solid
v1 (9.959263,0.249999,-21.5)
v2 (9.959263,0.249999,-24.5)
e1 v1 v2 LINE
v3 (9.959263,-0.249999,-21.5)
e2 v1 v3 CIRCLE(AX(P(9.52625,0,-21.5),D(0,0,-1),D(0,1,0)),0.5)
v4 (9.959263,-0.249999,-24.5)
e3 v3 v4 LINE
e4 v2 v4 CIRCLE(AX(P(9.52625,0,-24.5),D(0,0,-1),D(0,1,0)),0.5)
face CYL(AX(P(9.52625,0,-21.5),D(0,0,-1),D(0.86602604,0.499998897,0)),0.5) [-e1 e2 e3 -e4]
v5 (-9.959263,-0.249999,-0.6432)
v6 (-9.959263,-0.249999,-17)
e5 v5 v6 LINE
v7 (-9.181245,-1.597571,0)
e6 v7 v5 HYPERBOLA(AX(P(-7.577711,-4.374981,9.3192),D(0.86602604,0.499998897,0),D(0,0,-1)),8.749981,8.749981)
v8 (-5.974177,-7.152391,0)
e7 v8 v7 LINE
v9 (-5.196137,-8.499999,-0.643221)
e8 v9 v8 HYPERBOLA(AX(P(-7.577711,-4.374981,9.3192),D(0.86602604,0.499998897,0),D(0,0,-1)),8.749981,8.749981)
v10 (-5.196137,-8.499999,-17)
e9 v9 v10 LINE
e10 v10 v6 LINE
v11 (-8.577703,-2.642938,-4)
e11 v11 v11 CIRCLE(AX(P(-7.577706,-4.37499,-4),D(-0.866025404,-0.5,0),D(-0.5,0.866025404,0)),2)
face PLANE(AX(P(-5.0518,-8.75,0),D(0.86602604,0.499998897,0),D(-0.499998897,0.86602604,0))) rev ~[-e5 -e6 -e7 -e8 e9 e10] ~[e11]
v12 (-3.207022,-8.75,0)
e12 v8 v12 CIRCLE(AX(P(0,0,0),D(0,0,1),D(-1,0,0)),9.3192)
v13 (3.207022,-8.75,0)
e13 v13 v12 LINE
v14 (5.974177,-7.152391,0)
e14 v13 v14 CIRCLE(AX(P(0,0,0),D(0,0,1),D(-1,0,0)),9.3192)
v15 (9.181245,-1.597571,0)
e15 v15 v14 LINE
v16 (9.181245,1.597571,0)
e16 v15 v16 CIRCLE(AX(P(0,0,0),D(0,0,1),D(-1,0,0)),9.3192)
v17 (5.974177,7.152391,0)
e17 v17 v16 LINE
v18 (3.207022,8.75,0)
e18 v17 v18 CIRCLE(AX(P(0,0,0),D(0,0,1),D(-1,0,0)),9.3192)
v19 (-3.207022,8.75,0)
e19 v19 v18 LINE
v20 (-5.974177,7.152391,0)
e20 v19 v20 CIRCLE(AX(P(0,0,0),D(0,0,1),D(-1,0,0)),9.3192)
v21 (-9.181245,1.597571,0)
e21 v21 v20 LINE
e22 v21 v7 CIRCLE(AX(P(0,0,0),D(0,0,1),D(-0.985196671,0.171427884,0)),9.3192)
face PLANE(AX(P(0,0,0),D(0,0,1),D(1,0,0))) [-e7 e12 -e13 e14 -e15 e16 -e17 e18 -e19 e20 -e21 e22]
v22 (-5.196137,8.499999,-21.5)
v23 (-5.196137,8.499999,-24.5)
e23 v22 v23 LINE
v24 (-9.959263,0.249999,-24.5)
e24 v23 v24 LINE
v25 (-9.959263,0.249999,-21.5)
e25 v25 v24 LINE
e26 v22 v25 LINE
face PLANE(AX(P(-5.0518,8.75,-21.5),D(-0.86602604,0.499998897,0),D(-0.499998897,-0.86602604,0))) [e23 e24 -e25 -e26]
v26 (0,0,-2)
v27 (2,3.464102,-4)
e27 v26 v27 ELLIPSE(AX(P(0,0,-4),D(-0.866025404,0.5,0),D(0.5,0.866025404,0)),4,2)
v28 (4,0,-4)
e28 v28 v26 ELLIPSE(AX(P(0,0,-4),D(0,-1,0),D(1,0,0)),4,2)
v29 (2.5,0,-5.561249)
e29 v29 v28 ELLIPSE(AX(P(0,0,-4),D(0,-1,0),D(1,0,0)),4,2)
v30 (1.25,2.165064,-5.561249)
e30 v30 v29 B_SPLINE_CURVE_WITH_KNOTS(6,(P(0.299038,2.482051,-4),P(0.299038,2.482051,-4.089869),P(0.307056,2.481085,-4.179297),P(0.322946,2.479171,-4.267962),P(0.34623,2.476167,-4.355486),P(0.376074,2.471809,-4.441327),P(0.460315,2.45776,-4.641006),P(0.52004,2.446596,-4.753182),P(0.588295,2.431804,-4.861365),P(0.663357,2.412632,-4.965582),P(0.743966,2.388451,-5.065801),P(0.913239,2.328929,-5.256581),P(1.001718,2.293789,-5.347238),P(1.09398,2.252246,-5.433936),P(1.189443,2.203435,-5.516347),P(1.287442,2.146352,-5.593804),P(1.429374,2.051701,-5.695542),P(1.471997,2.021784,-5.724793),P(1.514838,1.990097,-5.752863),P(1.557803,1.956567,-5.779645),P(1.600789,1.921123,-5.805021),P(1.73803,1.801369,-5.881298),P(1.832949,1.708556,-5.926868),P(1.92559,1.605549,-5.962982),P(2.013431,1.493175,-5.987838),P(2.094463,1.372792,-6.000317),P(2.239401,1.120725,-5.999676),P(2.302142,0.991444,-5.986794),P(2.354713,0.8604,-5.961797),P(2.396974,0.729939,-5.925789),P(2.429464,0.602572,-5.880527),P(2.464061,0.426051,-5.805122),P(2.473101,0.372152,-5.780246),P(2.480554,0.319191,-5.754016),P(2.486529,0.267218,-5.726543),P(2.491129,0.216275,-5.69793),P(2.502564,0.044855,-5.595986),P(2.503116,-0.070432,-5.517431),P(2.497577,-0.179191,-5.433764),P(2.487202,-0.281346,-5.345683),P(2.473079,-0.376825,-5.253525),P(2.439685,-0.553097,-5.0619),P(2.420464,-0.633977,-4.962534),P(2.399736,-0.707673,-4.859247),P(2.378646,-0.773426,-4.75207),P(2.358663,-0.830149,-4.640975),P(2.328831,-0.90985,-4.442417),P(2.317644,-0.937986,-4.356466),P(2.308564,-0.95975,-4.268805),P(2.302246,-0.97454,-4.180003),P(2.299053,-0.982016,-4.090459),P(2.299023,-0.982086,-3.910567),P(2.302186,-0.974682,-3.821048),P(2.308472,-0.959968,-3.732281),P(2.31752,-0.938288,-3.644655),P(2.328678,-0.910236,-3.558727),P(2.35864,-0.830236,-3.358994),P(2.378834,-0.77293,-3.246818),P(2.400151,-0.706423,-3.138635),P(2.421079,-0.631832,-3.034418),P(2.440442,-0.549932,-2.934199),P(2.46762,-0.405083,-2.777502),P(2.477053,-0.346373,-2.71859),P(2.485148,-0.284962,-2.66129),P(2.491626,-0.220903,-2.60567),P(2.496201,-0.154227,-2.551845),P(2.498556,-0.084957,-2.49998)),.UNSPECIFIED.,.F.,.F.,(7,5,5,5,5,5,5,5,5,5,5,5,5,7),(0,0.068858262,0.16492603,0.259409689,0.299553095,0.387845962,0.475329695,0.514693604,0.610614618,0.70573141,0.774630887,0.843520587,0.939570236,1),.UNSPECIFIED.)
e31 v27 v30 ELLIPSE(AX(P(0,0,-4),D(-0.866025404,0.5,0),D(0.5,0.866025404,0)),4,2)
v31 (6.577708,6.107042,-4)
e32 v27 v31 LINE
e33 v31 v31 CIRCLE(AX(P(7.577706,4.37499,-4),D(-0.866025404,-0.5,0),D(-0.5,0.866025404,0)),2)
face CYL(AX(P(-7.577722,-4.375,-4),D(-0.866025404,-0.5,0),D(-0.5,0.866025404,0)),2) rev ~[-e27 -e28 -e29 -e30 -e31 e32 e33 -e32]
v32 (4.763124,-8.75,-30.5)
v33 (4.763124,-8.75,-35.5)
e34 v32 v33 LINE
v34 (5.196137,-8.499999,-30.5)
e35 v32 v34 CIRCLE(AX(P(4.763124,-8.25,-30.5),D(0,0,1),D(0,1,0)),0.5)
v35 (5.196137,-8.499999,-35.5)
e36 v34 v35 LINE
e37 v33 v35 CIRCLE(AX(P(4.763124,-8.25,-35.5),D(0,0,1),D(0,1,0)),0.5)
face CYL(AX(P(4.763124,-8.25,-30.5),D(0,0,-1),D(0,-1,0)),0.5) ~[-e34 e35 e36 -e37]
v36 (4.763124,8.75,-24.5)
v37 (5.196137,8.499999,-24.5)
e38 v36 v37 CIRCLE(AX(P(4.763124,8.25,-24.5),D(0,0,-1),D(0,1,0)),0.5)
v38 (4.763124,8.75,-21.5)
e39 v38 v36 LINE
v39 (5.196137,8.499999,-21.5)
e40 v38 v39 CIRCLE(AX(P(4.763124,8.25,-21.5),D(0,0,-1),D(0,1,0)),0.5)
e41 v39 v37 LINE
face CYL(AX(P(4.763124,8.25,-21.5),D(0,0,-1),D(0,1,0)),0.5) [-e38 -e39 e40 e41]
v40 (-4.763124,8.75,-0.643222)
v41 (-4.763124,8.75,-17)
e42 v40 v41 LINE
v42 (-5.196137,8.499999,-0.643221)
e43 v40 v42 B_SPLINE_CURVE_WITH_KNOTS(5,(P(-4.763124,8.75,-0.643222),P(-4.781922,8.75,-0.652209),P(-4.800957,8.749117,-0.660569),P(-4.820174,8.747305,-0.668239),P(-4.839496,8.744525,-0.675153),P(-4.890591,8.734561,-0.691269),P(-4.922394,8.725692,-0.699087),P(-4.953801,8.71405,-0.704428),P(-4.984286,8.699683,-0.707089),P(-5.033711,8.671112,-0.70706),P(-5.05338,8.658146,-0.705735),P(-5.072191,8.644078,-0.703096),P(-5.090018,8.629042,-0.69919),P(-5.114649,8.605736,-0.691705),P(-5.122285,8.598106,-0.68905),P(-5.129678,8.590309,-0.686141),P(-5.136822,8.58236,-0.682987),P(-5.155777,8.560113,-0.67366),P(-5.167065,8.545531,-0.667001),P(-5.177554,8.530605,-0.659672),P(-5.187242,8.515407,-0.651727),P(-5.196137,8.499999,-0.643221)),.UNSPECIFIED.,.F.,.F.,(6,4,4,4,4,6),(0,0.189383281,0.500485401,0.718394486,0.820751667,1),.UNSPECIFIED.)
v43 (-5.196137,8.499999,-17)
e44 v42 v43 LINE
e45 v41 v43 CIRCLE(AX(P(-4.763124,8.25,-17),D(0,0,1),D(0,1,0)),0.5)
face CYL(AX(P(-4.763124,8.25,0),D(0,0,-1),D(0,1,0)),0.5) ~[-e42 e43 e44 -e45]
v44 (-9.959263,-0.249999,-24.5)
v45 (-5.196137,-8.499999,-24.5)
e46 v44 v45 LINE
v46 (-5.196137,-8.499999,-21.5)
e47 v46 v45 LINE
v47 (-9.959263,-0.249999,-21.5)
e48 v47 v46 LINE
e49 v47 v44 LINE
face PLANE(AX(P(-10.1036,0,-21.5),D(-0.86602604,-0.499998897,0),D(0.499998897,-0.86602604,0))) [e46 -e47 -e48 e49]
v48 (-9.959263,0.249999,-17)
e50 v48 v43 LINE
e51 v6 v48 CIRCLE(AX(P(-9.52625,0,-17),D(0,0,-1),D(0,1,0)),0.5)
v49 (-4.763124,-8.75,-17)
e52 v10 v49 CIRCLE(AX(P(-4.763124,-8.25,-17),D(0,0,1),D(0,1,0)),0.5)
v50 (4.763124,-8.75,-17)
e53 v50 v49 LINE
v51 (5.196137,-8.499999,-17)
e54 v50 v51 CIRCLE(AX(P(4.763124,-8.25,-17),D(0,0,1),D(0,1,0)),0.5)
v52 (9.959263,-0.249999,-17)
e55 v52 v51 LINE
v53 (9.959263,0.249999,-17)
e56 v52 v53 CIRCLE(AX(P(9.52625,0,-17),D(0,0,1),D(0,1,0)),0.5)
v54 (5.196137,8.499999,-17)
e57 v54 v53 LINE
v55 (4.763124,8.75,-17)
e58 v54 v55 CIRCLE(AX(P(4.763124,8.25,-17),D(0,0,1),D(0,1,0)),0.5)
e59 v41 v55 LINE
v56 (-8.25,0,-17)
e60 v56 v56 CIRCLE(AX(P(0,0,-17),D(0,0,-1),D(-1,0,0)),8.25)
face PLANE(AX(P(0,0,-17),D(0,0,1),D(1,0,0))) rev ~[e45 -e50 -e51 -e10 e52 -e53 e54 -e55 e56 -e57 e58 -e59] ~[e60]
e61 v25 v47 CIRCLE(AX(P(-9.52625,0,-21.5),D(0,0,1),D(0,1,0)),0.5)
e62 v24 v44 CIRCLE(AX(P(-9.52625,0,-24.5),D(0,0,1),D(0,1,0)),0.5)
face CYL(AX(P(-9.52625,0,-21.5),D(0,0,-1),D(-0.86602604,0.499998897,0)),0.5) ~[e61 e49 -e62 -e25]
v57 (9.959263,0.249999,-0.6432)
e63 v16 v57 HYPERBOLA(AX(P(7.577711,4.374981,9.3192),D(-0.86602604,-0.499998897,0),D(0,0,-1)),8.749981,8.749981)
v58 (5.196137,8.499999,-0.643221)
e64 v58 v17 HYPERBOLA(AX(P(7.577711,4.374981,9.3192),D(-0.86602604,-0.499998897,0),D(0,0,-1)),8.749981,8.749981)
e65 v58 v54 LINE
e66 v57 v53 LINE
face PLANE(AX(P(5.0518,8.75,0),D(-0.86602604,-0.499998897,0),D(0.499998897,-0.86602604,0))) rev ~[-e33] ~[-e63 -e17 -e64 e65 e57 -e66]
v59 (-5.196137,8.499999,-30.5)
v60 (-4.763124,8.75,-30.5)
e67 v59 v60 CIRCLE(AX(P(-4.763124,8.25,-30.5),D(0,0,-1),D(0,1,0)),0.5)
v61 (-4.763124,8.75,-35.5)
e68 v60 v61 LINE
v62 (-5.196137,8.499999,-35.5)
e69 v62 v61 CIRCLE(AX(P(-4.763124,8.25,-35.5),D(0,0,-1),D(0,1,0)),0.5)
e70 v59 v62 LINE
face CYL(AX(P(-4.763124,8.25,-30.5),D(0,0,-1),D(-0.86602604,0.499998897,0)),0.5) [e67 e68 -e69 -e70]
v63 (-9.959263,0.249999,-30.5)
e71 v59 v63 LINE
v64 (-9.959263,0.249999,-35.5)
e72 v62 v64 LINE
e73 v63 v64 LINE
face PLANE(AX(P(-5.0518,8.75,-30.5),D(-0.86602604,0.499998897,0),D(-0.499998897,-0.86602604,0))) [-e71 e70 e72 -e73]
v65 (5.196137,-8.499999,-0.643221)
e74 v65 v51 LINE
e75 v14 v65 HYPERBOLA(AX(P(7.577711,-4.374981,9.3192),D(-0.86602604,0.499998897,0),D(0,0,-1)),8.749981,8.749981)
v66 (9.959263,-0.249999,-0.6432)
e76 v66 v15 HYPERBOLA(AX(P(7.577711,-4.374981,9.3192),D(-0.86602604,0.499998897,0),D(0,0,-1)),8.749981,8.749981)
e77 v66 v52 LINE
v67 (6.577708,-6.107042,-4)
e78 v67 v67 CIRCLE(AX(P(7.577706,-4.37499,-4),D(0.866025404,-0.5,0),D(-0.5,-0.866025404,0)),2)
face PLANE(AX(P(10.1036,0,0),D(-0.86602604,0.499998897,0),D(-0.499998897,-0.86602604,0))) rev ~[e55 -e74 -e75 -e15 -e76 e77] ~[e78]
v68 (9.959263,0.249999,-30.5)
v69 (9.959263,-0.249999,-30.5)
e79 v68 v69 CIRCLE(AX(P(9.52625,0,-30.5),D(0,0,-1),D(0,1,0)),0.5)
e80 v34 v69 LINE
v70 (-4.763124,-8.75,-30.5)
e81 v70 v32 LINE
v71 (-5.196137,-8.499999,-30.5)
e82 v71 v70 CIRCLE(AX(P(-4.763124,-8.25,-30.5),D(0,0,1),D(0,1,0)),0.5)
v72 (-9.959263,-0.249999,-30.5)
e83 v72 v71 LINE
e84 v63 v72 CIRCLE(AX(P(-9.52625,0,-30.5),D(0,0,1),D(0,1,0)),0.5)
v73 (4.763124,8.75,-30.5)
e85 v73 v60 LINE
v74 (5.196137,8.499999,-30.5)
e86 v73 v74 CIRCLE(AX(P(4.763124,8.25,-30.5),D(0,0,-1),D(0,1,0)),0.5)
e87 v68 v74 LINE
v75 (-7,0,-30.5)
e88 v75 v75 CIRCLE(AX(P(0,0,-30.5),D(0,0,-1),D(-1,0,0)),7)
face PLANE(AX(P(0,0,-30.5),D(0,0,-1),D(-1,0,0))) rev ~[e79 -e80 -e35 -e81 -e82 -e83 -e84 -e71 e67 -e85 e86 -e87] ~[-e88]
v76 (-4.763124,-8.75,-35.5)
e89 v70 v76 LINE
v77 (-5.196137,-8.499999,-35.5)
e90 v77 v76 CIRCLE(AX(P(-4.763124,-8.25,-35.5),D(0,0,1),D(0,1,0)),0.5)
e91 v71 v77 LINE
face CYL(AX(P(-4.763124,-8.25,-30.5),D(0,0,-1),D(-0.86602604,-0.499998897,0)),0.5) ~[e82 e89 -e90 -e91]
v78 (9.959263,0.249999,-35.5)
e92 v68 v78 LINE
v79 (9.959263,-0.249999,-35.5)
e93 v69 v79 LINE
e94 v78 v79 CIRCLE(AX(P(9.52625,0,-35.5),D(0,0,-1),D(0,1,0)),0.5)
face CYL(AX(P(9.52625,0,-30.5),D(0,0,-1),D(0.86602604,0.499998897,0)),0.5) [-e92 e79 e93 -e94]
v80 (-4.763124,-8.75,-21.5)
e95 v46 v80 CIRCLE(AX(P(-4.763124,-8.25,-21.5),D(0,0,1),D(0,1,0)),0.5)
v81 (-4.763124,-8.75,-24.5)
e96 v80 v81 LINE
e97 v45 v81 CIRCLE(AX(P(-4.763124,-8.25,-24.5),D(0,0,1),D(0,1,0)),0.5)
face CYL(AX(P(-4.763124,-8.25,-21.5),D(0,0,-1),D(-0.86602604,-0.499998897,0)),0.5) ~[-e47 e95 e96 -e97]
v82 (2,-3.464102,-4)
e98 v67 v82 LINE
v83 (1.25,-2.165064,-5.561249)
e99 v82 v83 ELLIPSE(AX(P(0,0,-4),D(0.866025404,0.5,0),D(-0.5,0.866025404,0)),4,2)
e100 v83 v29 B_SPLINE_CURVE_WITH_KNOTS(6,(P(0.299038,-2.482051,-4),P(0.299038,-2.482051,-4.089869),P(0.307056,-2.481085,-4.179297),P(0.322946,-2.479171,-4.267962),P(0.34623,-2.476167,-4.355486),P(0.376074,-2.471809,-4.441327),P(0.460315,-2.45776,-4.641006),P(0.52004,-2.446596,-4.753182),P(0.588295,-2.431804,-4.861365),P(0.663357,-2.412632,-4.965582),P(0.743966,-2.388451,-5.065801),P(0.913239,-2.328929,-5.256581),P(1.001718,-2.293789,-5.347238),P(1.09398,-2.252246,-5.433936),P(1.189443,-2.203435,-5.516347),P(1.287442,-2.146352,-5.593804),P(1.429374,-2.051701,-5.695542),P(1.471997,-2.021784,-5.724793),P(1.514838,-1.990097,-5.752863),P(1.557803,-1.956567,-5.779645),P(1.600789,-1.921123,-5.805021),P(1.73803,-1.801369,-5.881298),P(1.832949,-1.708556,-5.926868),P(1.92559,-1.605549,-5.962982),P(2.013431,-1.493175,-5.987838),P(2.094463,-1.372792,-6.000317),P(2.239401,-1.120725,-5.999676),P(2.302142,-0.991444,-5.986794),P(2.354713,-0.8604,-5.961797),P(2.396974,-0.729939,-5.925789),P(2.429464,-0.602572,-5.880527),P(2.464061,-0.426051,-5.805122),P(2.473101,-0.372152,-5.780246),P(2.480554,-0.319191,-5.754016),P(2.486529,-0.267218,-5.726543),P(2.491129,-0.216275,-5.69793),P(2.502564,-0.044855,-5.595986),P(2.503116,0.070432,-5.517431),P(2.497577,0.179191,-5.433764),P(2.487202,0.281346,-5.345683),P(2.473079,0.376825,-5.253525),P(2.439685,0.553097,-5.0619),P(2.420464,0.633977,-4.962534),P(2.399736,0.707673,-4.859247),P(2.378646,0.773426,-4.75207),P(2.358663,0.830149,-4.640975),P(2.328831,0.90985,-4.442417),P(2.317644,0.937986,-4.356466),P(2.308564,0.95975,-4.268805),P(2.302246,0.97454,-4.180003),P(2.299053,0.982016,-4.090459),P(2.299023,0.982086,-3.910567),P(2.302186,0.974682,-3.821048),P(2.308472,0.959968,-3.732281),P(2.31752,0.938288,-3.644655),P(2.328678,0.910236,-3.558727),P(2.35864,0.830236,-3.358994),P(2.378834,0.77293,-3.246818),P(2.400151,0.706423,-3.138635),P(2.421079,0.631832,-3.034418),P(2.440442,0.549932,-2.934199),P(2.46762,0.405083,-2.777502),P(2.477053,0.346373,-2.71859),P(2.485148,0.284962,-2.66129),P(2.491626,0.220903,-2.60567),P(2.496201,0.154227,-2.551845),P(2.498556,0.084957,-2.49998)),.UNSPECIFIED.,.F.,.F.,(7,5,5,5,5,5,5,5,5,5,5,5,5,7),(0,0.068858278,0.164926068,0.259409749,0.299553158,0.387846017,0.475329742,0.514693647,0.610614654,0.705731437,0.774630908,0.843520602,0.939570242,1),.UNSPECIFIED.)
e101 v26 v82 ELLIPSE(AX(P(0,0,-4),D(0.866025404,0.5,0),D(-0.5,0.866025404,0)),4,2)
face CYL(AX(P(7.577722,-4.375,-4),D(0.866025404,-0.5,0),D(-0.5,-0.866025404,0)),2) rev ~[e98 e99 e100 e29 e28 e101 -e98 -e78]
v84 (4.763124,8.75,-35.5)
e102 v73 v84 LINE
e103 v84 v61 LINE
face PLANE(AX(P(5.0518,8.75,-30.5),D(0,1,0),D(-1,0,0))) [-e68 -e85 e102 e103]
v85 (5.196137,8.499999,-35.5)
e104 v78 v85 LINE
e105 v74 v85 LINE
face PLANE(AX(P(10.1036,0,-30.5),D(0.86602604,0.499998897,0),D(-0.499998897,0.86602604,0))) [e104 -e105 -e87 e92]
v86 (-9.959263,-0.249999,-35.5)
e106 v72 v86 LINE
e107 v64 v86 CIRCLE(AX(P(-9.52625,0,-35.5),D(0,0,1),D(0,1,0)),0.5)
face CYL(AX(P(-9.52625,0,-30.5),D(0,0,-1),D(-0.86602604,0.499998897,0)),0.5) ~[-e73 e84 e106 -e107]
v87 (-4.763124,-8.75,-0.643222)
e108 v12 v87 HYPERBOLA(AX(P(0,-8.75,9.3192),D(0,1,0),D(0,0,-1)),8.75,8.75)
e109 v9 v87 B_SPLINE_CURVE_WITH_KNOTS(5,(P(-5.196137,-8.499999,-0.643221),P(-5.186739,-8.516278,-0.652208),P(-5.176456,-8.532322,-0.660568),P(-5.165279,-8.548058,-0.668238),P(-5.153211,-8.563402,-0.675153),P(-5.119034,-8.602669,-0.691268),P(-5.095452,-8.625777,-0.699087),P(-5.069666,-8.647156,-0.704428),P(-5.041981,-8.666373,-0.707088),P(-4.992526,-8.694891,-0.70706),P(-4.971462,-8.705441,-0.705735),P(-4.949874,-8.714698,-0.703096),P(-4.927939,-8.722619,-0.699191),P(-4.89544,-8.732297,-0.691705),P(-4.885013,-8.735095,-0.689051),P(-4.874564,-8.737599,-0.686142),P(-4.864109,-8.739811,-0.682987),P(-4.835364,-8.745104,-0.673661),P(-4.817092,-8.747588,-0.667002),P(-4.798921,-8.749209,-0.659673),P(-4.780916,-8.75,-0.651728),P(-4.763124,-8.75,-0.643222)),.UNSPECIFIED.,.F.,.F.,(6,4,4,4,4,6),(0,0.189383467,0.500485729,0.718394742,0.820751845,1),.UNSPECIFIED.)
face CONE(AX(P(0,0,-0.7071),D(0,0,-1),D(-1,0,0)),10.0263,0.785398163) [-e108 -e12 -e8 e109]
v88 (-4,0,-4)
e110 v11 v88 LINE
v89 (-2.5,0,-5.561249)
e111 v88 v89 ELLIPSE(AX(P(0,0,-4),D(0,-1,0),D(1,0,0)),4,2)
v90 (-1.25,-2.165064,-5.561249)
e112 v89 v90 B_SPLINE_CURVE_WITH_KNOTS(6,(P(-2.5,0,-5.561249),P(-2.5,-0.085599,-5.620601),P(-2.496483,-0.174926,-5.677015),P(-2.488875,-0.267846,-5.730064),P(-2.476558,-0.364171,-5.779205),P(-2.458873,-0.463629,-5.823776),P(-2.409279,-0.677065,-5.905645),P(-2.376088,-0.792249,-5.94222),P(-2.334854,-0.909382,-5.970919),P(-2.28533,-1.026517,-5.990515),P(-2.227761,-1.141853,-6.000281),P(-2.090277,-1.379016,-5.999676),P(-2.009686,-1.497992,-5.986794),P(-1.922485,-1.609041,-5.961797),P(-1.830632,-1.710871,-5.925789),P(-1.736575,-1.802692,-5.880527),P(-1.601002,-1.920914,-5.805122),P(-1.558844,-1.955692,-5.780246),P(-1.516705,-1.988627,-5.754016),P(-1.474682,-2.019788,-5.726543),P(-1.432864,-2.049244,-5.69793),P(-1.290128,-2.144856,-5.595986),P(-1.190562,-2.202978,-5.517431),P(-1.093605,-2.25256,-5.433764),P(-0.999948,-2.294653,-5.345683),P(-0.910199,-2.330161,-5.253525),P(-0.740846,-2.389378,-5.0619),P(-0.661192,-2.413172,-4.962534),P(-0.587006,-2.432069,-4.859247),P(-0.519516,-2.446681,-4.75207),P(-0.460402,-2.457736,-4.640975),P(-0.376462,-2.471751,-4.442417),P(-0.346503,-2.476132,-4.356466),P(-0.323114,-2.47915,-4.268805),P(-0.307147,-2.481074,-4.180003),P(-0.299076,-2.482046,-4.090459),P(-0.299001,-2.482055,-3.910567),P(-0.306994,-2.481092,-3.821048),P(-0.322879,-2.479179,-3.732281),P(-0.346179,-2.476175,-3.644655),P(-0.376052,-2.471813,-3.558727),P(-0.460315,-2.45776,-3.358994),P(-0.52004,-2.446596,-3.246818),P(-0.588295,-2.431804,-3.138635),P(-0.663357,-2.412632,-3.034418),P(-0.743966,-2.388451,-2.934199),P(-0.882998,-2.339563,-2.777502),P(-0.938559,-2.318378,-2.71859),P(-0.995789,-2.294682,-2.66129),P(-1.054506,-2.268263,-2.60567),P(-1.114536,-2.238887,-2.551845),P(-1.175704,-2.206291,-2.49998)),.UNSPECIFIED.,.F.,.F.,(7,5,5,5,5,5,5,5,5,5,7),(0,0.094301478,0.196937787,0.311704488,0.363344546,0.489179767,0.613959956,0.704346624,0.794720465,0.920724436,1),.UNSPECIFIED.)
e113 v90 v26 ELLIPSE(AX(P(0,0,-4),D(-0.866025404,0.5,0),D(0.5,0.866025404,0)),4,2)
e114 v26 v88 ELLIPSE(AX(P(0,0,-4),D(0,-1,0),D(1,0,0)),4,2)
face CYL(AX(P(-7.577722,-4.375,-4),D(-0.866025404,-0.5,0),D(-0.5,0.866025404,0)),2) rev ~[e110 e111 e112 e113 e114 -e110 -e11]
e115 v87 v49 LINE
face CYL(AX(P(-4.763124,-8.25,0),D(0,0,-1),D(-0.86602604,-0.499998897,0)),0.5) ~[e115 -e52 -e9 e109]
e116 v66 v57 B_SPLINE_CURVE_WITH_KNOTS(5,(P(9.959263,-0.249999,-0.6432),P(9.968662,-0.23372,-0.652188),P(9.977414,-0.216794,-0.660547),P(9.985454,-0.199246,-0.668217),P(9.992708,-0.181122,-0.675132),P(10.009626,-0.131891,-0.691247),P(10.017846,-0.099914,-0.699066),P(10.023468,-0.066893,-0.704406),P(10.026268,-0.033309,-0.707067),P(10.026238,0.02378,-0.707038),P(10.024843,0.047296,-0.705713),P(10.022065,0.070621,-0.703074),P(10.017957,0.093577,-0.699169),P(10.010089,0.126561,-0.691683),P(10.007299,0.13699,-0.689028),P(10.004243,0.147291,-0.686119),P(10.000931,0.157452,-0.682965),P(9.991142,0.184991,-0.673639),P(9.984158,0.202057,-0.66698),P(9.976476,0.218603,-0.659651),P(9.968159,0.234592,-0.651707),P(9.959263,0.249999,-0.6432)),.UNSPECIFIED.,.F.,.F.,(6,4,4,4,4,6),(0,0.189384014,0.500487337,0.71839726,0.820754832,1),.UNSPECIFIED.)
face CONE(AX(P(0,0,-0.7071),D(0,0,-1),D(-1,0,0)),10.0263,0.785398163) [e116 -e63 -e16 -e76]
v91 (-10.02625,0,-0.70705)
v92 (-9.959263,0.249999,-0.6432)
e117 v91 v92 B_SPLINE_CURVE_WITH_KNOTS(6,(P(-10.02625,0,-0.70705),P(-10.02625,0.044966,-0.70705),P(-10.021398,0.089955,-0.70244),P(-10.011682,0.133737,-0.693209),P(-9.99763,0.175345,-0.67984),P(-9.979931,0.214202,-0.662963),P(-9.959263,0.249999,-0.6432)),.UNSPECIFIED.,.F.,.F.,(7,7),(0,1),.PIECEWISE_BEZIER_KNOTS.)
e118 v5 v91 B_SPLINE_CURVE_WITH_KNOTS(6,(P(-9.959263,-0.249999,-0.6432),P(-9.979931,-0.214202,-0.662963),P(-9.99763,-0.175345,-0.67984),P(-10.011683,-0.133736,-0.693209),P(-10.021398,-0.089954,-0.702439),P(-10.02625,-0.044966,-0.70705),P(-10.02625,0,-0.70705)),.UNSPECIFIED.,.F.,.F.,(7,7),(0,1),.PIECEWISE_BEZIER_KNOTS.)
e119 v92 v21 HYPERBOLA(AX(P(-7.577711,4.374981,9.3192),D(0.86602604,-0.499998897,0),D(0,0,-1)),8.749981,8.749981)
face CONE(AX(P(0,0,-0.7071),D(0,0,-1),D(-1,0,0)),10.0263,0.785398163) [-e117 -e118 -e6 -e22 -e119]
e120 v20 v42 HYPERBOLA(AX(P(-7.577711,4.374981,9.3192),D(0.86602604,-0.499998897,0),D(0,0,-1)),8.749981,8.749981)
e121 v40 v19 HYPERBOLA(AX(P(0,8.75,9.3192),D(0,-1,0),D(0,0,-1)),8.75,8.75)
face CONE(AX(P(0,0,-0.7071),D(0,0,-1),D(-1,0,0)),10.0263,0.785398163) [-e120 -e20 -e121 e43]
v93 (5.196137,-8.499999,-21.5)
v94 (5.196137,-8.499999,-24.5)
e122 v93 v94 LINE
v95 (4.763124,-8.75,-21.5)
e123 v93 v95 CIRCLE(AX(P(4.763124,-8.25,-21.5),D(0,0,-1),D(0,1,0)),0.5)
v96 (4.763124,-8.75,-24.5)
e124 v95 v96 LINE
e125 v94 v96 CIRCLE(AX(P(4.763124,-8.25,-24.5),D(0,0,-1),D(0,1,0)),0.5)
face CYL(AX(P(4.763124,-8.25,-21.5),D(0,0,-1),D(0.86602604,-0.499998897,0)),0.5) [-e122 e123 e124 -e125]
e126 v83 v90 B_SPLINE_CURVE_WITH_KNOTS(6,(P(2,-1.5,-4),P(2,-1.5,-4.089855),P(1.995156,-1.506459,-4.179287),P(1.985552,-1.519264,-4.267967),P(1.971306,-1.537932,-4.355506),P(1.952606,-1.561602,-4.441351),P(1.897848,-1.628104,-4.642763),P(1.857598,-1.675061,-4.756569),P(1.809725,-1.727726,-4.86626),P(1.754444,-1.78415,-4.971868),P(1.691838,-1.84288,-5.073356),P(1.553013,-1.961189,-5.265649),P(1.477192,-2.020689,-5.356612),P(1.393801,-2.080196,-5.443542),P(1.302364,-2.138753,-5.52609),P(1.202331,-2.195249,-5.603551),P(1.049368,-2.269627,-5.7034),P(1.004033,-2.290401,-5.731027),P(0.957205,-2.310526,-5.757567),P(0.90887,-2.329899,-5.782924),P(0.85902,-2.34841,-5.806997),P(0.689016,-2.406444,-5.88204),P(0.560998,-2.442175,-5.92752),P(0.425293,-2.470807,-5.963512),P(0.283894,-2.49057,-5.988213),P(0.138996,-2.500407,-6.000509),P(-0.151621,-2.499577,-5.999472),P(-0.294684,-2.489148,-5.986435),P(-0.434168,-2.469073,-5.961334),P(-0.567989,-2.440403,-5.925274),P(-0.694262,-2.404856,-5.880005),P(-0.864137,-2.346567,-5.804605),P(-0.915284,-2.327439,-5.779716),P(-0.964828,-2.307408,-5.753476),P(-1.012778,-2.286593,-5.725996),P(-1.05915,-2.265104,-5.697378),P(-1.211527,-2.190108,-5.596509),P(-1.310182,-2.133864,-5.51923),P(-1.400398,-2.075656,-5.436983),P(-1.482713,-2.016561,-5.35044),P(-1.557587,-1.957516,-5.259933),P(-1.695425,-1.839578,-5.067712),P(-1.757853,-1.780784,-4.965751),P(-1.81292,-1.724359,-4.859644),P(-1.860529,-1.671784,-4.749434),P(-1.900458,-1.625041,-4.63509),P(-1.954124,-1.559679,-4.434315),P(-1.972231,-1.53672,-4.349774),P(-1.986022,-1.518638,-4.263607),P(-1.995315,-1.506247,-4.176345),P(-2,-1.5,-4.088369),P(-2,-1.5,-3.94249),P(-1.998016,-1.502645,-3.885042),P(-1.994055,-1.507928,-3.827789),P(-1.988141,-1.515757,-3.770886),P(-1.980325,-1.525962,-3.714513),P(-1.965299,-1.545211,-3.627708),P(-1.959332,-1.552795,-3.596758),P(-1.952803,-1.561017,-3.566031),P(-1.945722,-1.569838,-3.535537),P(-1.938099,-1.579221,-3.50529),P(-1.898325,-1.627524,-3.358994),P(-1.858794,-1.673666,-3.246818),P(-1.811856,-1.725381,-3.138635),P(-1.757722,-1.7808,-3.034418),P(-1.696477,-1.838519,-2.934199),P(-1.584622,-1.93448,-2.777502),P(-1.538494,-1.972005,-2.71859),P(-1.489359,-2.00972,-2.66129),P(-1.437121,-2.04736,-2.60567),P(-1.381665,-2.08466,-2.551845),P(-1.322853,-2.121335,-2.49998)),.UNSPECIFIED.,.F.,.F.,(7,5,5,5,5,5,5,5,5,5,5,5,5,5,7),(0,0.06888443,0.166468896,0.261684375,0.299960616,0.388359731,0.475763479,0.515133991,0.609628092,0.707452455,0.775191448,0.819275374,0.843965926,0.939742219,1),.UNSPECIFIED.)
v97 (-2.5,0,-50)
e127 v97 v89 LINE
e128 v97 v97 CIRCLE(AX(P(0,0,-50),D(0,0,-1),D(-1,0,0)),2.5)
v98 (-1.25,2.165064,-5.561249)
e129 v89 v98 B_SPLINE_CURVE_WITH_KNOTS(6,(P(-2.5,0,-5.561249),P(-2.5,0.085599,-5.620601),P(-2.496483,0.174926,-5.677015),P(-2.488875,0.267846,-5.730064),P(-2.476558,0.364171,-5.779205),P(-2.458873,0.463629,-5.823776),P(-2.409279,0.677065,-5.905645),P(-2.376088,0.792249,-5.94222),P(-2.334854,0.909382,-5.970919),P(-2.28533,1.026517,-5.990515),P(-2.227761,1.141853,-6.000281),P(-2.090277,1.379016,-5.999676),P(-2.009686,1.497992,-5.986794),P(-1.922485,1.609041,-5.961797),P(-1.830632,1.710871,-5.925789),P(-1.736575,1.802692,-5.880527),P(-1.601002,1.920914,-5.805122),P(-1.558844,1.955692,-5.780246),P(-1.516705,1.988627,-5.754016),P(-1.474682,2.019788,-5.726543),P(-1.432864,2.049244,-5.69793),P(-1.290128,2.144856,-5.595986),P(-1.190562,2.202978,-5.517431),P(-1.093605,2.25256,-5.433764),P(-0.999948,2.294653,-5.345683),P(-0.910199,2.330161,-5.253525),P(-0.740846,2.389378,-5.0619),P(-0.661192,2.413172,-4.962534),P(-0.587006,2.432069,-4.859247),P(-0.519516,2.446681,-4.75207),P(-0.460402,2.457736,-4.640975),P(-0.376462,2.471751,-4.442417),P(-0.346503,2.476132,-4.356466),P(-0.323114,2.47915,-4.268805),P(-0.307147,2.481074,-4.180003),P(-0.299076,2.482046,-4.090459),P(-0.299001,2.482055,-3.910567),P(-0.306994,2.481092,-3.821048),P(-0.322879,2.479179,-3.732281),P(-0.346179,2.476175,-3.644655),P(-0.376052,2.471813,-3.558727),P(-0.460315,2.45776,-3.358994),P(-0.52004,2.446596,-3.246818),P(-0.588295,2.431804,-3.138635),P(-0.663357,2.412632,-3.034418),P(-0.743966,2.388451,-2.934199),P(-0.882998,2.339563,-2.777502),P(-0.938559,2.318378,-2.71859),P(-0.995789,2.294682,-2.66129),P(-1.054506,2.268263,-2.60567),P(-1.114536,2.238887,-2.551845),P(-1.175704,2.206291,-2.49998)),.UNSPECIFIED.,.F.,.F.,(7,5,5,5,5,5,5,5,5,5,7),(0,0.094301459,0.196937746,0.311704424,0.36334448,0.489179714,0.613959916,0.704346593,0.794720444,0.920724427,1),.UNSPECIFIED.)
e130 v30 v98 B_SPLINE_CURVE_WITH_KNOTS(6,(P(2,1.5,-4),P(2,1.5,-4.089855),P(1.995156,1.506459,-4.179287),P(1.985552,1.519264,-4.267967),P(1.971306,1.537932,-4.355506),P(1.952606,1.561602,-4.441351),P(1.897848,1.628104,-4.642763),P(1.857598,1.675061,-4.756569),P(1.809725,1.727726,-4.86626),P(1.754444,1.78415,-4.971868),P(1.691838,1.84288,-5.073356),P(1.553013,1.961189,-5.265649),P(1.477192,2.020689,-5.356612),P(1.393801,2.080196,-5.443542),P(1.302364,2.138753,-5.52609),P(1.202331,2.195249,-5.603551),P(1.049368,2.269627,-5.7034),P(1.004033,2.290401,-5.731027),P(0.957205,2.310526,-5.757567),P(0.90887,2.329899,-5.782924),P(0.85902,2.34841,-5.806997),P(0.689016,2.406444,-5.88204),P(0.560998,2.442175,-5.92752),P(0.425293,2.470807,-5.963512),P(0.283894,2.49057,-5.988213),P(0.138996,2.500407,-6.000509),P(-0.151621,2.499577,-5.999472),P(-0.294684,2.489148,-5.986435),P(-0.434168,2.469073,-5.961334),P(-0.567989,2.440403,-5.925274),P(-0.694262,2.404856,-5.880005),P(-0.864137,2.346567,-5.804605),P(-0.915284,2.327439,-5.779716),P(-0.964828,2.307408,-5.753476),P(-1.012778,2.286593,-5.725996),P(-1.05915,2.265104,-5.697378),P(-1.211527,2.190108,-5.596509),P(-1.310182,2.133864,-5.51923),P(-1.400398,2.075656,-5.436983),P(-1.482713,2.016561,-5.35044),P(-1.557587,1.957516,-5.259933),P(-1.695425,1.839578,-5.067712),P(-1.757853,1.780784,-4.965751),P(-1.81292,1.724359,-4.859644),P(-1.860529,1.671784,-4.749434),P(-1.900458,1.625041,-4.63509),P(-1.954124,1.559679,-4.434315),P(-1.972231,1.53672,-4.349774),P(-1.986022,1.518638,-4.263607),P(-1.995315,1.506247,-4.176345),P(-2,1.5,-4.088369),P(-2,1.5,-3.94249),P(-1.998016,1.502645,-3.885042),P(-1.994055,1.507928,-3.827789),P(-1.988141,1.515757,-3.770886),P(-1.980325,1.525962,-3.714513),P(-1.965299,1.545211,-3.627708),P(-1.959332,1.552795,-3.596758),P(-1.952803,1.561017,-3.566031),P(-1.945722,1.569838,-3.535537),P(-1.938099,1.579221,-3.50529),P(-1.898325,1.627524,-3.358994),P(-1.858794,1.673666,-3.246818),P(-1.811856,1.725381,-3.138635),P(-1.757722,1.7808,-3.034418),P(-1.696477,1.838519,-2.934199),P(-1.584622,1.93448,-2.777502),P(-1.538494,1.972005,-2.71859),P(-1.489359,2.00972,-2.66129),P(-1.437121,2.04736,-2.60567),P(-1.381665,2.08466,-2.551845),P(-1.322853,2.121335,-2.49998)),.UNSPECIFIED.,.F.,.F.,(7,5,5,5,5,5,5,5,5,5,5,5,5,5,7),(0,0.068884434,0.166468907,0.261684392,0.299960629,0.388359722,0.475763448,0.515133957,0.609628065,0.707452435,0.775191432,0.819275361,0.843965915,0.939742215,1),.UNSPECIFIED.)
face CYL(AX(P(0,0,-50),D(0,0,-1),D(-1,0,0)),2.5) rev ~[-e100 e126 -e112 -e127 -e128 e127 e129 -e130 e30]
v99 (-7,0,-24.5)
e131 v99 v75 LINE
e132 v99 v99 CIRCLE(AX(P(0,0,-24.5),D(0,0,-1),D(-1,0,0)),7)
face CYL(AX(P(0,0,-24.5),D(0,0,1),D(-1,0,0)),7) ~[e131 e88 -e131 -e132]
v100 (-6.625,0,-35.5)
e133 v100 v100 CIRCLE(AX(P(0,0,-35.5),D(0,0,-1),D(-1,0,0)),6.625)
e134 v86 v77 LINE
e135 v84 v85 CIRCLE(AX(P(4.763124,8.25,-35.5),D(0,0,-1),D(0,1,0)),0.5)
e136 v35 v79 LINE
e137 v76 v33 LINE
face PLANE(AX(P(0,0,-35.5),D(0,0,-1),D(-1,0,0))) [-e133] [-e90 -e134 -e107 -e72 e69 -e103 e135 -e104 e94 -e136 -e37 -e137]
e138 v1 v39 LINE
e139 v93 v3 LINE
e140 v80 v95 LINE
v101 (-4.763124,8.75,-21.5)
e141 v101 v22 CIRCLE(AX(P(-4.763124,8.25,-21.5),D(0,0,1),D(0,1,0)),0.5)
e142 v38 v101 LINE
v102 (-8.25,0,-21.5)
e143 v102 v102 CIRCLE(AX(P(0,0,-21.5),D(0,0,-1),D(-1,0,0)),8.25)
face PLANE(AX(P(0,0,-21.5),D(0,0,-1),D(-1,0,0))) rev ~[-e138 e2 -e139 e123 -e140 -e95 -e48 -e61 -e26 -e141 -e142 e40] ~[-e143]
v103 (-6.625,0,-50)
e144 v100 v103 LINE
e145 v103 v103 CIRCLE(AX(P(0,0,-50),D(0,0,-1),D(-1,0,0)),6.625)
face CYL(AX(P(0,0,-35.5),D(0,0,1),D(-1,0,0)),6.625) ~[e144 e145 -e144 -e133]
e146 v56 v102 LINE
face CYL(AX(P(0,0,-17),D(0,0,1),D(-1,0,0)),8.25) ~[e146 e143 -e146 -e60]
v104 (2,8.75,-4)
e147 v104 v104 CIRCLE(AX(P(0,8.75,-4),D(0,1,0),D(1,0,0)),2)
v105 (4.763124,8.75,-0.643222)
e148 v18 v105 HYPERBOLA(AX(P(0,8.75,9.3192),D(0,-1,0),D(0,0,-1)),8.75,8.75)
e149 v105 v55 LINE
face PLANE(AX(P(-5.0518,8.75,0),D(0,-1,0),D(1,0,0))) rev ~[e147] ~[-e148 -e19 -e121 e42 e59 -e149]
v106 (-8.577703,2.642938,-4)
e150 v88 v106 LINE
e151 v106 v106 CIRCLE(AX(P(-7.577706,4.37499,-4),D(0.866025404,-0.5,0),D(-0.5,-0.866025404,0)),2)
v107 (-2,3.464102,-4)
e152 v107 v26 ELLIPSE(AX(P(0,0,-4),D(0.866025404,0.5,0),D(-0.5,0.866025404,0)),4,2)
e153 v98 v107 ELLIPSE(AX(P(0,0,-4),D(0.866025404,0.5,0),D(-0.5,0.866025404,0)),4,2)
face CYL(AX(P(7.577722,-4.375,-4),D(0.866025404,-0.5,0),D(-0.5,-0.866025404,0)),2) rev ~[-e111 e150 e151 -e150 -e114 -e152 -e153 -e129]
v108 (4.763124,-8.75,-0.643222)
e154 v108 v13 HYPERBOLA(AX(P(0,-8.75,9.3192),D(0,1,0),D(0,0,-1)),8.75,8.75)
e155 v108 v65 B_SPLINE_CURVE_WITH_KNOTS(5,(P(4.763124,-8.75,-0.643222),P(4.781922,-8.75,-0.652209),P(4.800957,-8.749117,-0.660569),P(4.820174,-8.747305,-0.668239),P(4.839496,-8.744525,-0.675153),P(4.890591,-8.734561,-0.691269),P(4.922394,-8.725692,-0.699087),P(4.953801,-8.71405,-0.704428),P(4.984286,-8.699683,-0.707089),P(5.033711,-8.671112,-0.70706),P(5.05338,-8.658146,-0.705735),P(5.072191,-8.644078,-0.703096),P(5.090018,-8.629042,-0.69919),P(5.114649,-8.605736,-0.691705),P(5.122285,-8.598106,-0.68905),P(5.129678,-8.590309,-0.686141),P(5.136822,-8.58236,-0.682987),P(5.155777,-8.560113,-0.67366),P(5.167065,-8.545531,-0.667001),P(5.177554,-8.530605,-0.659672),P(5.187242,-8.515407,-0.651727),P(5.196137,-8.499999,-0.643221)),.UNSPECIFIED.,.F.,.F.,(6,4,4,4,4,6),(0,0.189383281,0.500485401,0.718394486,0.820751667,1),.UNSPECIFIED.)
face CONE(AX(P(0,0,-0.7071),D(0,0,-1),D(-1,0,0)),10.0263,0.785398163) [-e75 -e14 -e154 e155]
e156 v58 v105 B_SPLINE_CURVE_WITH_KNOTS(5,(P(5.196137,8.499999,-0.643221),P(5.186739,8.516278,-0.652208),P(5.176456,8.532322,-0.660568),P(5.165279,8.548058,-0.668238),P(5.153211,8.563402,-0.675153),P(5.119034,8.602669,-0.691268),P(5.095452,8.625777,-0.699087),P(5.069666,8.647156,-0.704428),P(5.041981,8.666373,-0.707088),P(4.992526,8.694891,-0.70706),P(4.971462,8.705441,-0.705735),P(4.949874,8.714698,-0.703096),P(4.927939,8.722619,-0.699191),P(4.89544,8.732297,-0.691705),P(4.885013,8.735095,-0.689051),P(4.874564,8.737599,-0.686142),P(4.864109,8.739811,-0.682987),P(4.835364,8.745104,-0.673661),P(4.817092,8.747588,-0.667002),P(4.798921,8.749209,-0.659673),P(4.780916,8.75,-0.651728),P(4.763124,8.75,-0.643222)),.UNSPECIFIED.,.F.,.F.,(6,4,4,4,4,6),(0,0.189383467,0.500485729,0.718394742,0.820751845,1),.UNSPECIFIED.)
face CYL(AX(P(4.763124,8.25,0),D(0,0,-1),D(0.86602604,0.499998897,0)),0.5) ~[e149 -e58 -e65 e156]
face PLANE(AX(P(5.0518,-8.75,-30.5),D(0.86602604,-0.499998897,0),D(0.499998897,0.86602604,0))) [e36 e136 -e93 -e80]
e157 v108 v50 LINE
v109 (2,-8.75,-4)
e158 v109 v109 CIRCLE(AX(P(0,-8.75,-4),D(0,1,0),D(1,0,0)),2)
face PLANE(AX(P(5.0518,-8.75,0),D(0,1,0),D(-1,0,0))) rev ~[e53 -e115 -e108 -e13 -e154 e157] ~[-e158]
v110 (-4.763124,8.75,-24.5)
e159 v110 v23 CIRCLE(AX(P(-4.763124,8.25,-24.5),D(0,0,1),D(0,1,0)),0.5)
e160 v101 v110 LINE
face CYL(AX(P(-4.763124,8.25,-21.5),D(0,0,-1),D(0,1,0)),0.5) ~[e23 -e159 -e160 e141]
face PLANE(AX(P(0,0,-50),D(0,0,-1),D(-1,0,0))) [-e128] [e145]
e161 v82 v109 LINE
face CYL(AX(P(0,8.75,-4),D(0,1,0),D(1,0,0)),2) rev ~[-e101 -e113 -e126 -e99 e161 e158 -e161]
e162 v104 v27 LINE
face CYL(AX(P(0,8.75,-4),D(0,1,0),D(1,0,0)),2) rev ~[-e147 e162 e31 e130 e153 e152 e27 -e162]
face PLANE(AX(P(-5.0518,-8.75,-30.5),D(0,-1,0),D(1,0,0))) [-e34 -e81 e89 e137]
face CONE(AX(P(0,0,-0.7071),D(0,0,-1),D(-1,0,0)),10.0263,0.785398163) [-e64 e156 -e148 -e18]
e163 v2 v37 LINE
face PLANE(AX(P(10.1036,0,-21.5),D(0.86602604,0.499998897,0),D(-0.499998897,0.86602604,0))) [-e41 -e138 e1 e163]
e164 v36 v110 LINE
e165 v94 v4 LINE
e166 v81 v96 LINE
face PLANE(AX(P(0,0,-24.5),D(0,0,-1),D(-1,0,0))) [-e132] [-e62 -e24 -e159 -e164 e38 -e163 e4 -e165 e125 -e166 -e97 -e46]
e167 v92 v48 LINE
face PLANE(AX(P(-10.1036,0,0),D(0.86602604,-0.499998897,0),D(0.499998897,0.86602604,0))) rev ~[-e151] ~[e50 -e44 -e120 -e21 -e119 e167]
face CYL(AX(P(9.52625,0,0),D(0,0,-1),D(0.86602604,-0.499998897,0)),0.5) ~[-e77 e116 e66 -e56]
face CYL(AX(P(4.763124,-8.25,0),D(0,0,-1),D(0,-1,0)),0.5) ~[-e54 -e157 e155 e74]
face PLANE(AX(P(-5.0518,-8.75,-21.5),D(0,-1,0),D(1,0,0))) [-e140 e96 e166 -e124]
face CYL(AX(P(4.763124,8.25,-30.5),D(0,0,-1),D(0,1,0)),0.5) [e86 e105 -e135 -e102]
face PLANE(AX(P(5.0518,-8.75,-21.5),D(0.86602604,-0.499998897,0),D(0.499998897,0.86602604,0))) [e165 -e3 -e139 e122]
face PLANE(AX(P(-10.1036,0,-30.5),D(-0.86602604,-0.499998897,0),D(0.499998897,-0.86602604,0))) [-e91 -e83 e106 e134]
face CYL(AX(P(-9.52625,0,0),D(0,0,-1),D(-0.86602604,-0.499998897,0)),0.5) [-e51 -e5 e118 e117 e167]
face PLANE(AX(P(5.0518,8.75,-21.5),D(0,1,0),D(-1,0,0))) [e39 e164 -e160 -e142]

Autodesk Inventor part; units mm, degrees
ref_plane "YZ Plane" through (0, 0, 0) normal (1, 0, 0) x (0, 1, 0)
ref_plane "XZ Plane" through (0, 0, 0) normal (0, 1, 0) x (-1, 0, 0)
ref_plane "XY Plane" through (0, 0, 0) normal (0, 0, 1) x (1, 0, 0)
sketch "Sketch1" plane through (0, 0, 0) normal (0, 0, 1) x (1, 0, 0)
  line L0 (5.0518, 8.75) -> (10.1036, 0)
  line L1 (10.1036, 0) -> (5.0518, -8.75)
  line L2 (5.0518, -8.75) -> (-5.0518, -8.75)
  line L3 (-5.0518, -8.75) -> (-10.1036, 0)
  line L4 (-10.1036, 0) -> (-5.0518, 8.75)
  line L5 (-5.0518, 8.75) -> (5.0518, 8.75)
  point P0 (0, 0)
  point P1 (0, 0)
  dimension "d0" = 17.5
extrude "Extrusion1" add sketch "Sketch1" against normal blind 17
sketch "Sketch2" plane through (0, 0, -17) normal (0, 0, -1) x (-1, 0, 0)
  line L0 (-5.0518, 8.75) -> (5.0518, 8.75) projected
  line L1 (-10.1036, 0) -> (-5.0518, 8.75) projected
  line L2 (-5.0518, -8.75) -> (-10.1036, 0) projected
  line L3 (5.0518, -8.75) -> (-5.0518, -8.75) projected
  line L4 (10.1036, 0) -> (5.0518, -8.75) projected
  line L5 (5.0518, 8.75) -> (10.1036, 0) projected
  line L6 (-5.0518, 8.75) -> (5.0518, 8.75) projected
  circle A0 centre (0, 0) radius 8.25
  dimension "d3" = 16.5
extrude "Extrusion2" add sketch "Sketch2" along normal blind 4.5 contours A0
sketch "Sketch3" plane through (0, 0, -21.5) normal (0, 0, -1) x (-1, 0, 0)
  circle A0 centre (0, 0) radius 8.25 projected
  line L0 (-5.0518, 8.75) -> (5.0518, 8.75) projected
  line L1 (-10.1036, 0) -> (-5.0518, 8.75) projected
  line L2 (-5.0518, -8.75) -> (-10.1036, 0) projected
  line L3 (5.0518, -8.75) -> (-5.0518, -8.75) projected
  line L4 (10.1036, 0) -> (5.0518, -8.75) projected
  line L5 (5.0518, 8.75) -> (10.1036, 0) projected
extrude "Extrusion3" add sketch "Sketch3" along normal blind 3 contours A0 | L0 L5 L4 L3 L2 L1
sketch "Sketch4" plane through (0, 0, -24.5) normal (0, 0, -1) x (-1, 0, 0)
  line L0 (5.0518, 8.75) -> (10.1036, 0) projected
  line L1 (-5.0518, 8.75) -> (5.0518, 8.75) projected
  line L2 (-10.1036, 0) -> (-5.0518, 8.75) projected
  line L3 (-5.0518, -8.75) -> (-10.1036, 0) projected
  line L4 (5.0518, -8.75) -> (-5.0518, -8.75) projected
  line L5 (10.1036, 0) -> (5.0518, -8.75) projected
  circle A0 centre (0, 0) radius 7
  dimension "d8" = 14
extrude "Extrusion4" add sketch "Sketch4" along normal blind 6 contours A0
sketch "Sketch5" plane through (0, 0, -30.5) normal (0, 0, -1) x (-1, 0, 0)
  circle A0 centre (0, 0) radius 7 projected
  line L0 (5.0518, 8.75) -> (10.1036, 0) projected
  line L1 (-5.0518, 8.75) -> (5.0518, 8.75) projected
  line L2 (-10.1036, 0) -> (-5.0518, 8.75) projected
  line L3 (-5.0518, -8.75) -> (-10.1036, 0) projected
  line L4 (5.0518, -8.75) -> (-5.0518, -8.75) projected
  line L5 (10.1036, 0) -> (5.0518, -8.75) projected
extrude "Extrusion5" add sketch "Sketch5" along normal blind 5 contours A0 | L0 L5 L4 L3 L2 L1
sketch "Sketch6" plane through (0, 0, -35.5) normal (0, 0, -1) x (-1, 0, 0)
  line L0 (10.1036, 0) -> (5.0518, -8.75) projected
  line L1 (5.0518, 8.75) -> (10.1036, 0) projected
  line L2 (-5.0518, 8.75) -> (5.0518, 8.75) projected
  line L3 (-10.1036, 0) -> (-5.0518, 8.75) projected
  line L4 (-5.0518, -8.75) -> (-10.1036, 0) projected
  line L5 (5.0518, -8.75) -> (-5.0518, -8.75) projected
  circle A0 centre (0, 0) radius 6.625
  dimension "d13" = 13.25
extrude "Extrusion6" add sketch "Sketch6" along normal blind 14.5 contours A0
sketch "Sketch7" plane through (0, 0, -50) normal (0, 0, -1) x (-1, 0, 0)
  circle A0 centre (0, 0) radius 6.625 projected
  circle A1 centre (0, 0) radius 2.5
  dimension "d16" = 5
extrude "Extrusion7" cut sketch "Sketch7" against normal blind 47.5 contours A1
sketch "Sketch8" plane through (-5.0518, 8.75, 0) normal (0, 1, 0) x (1, 0, 0)
  line L0 (10.1036, 17) -> (0, 17) projected
  line L1 (0, 0) -> (0, 17) projected
  line L2 (0, 0) -> (10.1036, 0) projected
  line L3 (10.1036, 0) -> (10.1036, 17) projected
  circle A0 centre (5.0518, 4) radius 2
  dimension "d19" = 4
  dimension "d20" = 4
extrude "Extrusion8" cut sketch "Sketch8" against normal blind 40.25 contours A0
pattern_circular "Circular Pattern1" count 3 over 360 about axis through (0, 0, -17) along (0, 0, -1) of "Extrusion8"
thread "Thread1" size "1/4" designation "1/4 - 18 NPT" standard "NPT" full length
fillet "Fillet1" radius 0.5 18 edges at (-5.0518, -8.75, -8.5) (5.0518, -8.75, -8.5) (10.1036, 0, -8.5) (5.0518, 8.75, -8.5) (-5.0518, 8.75, -8.5) (-10.1036, 0, -8.5) (-5.0518, -8.75, -23) (5.0518, -8.75, -23) (10.1036, 0, -23) (5.0518, 8.75, -23) (5.0518, 8.75, -33) (10.1036, 0, -33) (5.0518, -8.75, -33) (-5.0518, -8.75, -33) (-10.1036, 0, -23) (-5.0518, 8.75, -23) (-5.0518, 8.75, -33) (-10.1036, 0, -33)
sketch "Sketch10" plane through (0, 0, 0) normal (0, 1, 0) x (-1, 0, 0)
  line L0 (10.0263, 0) -> (10.0263, -17) projected
  line L1 (9.9593, 0) -> (5.1962, 0) projected
  line L2 (9.9593, -17) -> (9.9593, -17) projected
  line L3 (9.9593, -17) -> (9.9593, 0) projected
  line L4 (9.9593, 0) -> (9.9593, 0) projected
  line L5 (9.9593, 0) -> (9.9593, -17) projected
  ellipse E0 centre (7.5777, -4) end of major axis (7.5777, -2) minor radius 1 projected
  line L6 (9.9593, 0) -> (9.9593, -17) projected
  line L7 (9.9593, 0) -> (5.1962, 0) projected
  line L8 (5.1962, -17) -> (5.1962, 0) projected
  line L9 (5.1962, -17) -> (9.9593, -17) projected
  line L10 (10.0263, -0.7071) -> (9.3192, 0)
  line L11 (9.3192, 0) -> (10.0263, 0)
  line L12 (10.0263, -0.7071) -> (10.0263, 0)
  line L13 (0, -20.4) -> (0, 3.4) projected
  dimension "d32" = 45
  dimension "d33" = 1
revolve "Revolution2" cut sketch "Sketch10" angle 360 about axis through (0, 0, -10) along (0, 0, 1) contours L0 L10 L3 L11 | L3 L10 L1
equation "\"d20\" = d19"
properties part number "fc18-055" material "Brass, Soft Yellow"
